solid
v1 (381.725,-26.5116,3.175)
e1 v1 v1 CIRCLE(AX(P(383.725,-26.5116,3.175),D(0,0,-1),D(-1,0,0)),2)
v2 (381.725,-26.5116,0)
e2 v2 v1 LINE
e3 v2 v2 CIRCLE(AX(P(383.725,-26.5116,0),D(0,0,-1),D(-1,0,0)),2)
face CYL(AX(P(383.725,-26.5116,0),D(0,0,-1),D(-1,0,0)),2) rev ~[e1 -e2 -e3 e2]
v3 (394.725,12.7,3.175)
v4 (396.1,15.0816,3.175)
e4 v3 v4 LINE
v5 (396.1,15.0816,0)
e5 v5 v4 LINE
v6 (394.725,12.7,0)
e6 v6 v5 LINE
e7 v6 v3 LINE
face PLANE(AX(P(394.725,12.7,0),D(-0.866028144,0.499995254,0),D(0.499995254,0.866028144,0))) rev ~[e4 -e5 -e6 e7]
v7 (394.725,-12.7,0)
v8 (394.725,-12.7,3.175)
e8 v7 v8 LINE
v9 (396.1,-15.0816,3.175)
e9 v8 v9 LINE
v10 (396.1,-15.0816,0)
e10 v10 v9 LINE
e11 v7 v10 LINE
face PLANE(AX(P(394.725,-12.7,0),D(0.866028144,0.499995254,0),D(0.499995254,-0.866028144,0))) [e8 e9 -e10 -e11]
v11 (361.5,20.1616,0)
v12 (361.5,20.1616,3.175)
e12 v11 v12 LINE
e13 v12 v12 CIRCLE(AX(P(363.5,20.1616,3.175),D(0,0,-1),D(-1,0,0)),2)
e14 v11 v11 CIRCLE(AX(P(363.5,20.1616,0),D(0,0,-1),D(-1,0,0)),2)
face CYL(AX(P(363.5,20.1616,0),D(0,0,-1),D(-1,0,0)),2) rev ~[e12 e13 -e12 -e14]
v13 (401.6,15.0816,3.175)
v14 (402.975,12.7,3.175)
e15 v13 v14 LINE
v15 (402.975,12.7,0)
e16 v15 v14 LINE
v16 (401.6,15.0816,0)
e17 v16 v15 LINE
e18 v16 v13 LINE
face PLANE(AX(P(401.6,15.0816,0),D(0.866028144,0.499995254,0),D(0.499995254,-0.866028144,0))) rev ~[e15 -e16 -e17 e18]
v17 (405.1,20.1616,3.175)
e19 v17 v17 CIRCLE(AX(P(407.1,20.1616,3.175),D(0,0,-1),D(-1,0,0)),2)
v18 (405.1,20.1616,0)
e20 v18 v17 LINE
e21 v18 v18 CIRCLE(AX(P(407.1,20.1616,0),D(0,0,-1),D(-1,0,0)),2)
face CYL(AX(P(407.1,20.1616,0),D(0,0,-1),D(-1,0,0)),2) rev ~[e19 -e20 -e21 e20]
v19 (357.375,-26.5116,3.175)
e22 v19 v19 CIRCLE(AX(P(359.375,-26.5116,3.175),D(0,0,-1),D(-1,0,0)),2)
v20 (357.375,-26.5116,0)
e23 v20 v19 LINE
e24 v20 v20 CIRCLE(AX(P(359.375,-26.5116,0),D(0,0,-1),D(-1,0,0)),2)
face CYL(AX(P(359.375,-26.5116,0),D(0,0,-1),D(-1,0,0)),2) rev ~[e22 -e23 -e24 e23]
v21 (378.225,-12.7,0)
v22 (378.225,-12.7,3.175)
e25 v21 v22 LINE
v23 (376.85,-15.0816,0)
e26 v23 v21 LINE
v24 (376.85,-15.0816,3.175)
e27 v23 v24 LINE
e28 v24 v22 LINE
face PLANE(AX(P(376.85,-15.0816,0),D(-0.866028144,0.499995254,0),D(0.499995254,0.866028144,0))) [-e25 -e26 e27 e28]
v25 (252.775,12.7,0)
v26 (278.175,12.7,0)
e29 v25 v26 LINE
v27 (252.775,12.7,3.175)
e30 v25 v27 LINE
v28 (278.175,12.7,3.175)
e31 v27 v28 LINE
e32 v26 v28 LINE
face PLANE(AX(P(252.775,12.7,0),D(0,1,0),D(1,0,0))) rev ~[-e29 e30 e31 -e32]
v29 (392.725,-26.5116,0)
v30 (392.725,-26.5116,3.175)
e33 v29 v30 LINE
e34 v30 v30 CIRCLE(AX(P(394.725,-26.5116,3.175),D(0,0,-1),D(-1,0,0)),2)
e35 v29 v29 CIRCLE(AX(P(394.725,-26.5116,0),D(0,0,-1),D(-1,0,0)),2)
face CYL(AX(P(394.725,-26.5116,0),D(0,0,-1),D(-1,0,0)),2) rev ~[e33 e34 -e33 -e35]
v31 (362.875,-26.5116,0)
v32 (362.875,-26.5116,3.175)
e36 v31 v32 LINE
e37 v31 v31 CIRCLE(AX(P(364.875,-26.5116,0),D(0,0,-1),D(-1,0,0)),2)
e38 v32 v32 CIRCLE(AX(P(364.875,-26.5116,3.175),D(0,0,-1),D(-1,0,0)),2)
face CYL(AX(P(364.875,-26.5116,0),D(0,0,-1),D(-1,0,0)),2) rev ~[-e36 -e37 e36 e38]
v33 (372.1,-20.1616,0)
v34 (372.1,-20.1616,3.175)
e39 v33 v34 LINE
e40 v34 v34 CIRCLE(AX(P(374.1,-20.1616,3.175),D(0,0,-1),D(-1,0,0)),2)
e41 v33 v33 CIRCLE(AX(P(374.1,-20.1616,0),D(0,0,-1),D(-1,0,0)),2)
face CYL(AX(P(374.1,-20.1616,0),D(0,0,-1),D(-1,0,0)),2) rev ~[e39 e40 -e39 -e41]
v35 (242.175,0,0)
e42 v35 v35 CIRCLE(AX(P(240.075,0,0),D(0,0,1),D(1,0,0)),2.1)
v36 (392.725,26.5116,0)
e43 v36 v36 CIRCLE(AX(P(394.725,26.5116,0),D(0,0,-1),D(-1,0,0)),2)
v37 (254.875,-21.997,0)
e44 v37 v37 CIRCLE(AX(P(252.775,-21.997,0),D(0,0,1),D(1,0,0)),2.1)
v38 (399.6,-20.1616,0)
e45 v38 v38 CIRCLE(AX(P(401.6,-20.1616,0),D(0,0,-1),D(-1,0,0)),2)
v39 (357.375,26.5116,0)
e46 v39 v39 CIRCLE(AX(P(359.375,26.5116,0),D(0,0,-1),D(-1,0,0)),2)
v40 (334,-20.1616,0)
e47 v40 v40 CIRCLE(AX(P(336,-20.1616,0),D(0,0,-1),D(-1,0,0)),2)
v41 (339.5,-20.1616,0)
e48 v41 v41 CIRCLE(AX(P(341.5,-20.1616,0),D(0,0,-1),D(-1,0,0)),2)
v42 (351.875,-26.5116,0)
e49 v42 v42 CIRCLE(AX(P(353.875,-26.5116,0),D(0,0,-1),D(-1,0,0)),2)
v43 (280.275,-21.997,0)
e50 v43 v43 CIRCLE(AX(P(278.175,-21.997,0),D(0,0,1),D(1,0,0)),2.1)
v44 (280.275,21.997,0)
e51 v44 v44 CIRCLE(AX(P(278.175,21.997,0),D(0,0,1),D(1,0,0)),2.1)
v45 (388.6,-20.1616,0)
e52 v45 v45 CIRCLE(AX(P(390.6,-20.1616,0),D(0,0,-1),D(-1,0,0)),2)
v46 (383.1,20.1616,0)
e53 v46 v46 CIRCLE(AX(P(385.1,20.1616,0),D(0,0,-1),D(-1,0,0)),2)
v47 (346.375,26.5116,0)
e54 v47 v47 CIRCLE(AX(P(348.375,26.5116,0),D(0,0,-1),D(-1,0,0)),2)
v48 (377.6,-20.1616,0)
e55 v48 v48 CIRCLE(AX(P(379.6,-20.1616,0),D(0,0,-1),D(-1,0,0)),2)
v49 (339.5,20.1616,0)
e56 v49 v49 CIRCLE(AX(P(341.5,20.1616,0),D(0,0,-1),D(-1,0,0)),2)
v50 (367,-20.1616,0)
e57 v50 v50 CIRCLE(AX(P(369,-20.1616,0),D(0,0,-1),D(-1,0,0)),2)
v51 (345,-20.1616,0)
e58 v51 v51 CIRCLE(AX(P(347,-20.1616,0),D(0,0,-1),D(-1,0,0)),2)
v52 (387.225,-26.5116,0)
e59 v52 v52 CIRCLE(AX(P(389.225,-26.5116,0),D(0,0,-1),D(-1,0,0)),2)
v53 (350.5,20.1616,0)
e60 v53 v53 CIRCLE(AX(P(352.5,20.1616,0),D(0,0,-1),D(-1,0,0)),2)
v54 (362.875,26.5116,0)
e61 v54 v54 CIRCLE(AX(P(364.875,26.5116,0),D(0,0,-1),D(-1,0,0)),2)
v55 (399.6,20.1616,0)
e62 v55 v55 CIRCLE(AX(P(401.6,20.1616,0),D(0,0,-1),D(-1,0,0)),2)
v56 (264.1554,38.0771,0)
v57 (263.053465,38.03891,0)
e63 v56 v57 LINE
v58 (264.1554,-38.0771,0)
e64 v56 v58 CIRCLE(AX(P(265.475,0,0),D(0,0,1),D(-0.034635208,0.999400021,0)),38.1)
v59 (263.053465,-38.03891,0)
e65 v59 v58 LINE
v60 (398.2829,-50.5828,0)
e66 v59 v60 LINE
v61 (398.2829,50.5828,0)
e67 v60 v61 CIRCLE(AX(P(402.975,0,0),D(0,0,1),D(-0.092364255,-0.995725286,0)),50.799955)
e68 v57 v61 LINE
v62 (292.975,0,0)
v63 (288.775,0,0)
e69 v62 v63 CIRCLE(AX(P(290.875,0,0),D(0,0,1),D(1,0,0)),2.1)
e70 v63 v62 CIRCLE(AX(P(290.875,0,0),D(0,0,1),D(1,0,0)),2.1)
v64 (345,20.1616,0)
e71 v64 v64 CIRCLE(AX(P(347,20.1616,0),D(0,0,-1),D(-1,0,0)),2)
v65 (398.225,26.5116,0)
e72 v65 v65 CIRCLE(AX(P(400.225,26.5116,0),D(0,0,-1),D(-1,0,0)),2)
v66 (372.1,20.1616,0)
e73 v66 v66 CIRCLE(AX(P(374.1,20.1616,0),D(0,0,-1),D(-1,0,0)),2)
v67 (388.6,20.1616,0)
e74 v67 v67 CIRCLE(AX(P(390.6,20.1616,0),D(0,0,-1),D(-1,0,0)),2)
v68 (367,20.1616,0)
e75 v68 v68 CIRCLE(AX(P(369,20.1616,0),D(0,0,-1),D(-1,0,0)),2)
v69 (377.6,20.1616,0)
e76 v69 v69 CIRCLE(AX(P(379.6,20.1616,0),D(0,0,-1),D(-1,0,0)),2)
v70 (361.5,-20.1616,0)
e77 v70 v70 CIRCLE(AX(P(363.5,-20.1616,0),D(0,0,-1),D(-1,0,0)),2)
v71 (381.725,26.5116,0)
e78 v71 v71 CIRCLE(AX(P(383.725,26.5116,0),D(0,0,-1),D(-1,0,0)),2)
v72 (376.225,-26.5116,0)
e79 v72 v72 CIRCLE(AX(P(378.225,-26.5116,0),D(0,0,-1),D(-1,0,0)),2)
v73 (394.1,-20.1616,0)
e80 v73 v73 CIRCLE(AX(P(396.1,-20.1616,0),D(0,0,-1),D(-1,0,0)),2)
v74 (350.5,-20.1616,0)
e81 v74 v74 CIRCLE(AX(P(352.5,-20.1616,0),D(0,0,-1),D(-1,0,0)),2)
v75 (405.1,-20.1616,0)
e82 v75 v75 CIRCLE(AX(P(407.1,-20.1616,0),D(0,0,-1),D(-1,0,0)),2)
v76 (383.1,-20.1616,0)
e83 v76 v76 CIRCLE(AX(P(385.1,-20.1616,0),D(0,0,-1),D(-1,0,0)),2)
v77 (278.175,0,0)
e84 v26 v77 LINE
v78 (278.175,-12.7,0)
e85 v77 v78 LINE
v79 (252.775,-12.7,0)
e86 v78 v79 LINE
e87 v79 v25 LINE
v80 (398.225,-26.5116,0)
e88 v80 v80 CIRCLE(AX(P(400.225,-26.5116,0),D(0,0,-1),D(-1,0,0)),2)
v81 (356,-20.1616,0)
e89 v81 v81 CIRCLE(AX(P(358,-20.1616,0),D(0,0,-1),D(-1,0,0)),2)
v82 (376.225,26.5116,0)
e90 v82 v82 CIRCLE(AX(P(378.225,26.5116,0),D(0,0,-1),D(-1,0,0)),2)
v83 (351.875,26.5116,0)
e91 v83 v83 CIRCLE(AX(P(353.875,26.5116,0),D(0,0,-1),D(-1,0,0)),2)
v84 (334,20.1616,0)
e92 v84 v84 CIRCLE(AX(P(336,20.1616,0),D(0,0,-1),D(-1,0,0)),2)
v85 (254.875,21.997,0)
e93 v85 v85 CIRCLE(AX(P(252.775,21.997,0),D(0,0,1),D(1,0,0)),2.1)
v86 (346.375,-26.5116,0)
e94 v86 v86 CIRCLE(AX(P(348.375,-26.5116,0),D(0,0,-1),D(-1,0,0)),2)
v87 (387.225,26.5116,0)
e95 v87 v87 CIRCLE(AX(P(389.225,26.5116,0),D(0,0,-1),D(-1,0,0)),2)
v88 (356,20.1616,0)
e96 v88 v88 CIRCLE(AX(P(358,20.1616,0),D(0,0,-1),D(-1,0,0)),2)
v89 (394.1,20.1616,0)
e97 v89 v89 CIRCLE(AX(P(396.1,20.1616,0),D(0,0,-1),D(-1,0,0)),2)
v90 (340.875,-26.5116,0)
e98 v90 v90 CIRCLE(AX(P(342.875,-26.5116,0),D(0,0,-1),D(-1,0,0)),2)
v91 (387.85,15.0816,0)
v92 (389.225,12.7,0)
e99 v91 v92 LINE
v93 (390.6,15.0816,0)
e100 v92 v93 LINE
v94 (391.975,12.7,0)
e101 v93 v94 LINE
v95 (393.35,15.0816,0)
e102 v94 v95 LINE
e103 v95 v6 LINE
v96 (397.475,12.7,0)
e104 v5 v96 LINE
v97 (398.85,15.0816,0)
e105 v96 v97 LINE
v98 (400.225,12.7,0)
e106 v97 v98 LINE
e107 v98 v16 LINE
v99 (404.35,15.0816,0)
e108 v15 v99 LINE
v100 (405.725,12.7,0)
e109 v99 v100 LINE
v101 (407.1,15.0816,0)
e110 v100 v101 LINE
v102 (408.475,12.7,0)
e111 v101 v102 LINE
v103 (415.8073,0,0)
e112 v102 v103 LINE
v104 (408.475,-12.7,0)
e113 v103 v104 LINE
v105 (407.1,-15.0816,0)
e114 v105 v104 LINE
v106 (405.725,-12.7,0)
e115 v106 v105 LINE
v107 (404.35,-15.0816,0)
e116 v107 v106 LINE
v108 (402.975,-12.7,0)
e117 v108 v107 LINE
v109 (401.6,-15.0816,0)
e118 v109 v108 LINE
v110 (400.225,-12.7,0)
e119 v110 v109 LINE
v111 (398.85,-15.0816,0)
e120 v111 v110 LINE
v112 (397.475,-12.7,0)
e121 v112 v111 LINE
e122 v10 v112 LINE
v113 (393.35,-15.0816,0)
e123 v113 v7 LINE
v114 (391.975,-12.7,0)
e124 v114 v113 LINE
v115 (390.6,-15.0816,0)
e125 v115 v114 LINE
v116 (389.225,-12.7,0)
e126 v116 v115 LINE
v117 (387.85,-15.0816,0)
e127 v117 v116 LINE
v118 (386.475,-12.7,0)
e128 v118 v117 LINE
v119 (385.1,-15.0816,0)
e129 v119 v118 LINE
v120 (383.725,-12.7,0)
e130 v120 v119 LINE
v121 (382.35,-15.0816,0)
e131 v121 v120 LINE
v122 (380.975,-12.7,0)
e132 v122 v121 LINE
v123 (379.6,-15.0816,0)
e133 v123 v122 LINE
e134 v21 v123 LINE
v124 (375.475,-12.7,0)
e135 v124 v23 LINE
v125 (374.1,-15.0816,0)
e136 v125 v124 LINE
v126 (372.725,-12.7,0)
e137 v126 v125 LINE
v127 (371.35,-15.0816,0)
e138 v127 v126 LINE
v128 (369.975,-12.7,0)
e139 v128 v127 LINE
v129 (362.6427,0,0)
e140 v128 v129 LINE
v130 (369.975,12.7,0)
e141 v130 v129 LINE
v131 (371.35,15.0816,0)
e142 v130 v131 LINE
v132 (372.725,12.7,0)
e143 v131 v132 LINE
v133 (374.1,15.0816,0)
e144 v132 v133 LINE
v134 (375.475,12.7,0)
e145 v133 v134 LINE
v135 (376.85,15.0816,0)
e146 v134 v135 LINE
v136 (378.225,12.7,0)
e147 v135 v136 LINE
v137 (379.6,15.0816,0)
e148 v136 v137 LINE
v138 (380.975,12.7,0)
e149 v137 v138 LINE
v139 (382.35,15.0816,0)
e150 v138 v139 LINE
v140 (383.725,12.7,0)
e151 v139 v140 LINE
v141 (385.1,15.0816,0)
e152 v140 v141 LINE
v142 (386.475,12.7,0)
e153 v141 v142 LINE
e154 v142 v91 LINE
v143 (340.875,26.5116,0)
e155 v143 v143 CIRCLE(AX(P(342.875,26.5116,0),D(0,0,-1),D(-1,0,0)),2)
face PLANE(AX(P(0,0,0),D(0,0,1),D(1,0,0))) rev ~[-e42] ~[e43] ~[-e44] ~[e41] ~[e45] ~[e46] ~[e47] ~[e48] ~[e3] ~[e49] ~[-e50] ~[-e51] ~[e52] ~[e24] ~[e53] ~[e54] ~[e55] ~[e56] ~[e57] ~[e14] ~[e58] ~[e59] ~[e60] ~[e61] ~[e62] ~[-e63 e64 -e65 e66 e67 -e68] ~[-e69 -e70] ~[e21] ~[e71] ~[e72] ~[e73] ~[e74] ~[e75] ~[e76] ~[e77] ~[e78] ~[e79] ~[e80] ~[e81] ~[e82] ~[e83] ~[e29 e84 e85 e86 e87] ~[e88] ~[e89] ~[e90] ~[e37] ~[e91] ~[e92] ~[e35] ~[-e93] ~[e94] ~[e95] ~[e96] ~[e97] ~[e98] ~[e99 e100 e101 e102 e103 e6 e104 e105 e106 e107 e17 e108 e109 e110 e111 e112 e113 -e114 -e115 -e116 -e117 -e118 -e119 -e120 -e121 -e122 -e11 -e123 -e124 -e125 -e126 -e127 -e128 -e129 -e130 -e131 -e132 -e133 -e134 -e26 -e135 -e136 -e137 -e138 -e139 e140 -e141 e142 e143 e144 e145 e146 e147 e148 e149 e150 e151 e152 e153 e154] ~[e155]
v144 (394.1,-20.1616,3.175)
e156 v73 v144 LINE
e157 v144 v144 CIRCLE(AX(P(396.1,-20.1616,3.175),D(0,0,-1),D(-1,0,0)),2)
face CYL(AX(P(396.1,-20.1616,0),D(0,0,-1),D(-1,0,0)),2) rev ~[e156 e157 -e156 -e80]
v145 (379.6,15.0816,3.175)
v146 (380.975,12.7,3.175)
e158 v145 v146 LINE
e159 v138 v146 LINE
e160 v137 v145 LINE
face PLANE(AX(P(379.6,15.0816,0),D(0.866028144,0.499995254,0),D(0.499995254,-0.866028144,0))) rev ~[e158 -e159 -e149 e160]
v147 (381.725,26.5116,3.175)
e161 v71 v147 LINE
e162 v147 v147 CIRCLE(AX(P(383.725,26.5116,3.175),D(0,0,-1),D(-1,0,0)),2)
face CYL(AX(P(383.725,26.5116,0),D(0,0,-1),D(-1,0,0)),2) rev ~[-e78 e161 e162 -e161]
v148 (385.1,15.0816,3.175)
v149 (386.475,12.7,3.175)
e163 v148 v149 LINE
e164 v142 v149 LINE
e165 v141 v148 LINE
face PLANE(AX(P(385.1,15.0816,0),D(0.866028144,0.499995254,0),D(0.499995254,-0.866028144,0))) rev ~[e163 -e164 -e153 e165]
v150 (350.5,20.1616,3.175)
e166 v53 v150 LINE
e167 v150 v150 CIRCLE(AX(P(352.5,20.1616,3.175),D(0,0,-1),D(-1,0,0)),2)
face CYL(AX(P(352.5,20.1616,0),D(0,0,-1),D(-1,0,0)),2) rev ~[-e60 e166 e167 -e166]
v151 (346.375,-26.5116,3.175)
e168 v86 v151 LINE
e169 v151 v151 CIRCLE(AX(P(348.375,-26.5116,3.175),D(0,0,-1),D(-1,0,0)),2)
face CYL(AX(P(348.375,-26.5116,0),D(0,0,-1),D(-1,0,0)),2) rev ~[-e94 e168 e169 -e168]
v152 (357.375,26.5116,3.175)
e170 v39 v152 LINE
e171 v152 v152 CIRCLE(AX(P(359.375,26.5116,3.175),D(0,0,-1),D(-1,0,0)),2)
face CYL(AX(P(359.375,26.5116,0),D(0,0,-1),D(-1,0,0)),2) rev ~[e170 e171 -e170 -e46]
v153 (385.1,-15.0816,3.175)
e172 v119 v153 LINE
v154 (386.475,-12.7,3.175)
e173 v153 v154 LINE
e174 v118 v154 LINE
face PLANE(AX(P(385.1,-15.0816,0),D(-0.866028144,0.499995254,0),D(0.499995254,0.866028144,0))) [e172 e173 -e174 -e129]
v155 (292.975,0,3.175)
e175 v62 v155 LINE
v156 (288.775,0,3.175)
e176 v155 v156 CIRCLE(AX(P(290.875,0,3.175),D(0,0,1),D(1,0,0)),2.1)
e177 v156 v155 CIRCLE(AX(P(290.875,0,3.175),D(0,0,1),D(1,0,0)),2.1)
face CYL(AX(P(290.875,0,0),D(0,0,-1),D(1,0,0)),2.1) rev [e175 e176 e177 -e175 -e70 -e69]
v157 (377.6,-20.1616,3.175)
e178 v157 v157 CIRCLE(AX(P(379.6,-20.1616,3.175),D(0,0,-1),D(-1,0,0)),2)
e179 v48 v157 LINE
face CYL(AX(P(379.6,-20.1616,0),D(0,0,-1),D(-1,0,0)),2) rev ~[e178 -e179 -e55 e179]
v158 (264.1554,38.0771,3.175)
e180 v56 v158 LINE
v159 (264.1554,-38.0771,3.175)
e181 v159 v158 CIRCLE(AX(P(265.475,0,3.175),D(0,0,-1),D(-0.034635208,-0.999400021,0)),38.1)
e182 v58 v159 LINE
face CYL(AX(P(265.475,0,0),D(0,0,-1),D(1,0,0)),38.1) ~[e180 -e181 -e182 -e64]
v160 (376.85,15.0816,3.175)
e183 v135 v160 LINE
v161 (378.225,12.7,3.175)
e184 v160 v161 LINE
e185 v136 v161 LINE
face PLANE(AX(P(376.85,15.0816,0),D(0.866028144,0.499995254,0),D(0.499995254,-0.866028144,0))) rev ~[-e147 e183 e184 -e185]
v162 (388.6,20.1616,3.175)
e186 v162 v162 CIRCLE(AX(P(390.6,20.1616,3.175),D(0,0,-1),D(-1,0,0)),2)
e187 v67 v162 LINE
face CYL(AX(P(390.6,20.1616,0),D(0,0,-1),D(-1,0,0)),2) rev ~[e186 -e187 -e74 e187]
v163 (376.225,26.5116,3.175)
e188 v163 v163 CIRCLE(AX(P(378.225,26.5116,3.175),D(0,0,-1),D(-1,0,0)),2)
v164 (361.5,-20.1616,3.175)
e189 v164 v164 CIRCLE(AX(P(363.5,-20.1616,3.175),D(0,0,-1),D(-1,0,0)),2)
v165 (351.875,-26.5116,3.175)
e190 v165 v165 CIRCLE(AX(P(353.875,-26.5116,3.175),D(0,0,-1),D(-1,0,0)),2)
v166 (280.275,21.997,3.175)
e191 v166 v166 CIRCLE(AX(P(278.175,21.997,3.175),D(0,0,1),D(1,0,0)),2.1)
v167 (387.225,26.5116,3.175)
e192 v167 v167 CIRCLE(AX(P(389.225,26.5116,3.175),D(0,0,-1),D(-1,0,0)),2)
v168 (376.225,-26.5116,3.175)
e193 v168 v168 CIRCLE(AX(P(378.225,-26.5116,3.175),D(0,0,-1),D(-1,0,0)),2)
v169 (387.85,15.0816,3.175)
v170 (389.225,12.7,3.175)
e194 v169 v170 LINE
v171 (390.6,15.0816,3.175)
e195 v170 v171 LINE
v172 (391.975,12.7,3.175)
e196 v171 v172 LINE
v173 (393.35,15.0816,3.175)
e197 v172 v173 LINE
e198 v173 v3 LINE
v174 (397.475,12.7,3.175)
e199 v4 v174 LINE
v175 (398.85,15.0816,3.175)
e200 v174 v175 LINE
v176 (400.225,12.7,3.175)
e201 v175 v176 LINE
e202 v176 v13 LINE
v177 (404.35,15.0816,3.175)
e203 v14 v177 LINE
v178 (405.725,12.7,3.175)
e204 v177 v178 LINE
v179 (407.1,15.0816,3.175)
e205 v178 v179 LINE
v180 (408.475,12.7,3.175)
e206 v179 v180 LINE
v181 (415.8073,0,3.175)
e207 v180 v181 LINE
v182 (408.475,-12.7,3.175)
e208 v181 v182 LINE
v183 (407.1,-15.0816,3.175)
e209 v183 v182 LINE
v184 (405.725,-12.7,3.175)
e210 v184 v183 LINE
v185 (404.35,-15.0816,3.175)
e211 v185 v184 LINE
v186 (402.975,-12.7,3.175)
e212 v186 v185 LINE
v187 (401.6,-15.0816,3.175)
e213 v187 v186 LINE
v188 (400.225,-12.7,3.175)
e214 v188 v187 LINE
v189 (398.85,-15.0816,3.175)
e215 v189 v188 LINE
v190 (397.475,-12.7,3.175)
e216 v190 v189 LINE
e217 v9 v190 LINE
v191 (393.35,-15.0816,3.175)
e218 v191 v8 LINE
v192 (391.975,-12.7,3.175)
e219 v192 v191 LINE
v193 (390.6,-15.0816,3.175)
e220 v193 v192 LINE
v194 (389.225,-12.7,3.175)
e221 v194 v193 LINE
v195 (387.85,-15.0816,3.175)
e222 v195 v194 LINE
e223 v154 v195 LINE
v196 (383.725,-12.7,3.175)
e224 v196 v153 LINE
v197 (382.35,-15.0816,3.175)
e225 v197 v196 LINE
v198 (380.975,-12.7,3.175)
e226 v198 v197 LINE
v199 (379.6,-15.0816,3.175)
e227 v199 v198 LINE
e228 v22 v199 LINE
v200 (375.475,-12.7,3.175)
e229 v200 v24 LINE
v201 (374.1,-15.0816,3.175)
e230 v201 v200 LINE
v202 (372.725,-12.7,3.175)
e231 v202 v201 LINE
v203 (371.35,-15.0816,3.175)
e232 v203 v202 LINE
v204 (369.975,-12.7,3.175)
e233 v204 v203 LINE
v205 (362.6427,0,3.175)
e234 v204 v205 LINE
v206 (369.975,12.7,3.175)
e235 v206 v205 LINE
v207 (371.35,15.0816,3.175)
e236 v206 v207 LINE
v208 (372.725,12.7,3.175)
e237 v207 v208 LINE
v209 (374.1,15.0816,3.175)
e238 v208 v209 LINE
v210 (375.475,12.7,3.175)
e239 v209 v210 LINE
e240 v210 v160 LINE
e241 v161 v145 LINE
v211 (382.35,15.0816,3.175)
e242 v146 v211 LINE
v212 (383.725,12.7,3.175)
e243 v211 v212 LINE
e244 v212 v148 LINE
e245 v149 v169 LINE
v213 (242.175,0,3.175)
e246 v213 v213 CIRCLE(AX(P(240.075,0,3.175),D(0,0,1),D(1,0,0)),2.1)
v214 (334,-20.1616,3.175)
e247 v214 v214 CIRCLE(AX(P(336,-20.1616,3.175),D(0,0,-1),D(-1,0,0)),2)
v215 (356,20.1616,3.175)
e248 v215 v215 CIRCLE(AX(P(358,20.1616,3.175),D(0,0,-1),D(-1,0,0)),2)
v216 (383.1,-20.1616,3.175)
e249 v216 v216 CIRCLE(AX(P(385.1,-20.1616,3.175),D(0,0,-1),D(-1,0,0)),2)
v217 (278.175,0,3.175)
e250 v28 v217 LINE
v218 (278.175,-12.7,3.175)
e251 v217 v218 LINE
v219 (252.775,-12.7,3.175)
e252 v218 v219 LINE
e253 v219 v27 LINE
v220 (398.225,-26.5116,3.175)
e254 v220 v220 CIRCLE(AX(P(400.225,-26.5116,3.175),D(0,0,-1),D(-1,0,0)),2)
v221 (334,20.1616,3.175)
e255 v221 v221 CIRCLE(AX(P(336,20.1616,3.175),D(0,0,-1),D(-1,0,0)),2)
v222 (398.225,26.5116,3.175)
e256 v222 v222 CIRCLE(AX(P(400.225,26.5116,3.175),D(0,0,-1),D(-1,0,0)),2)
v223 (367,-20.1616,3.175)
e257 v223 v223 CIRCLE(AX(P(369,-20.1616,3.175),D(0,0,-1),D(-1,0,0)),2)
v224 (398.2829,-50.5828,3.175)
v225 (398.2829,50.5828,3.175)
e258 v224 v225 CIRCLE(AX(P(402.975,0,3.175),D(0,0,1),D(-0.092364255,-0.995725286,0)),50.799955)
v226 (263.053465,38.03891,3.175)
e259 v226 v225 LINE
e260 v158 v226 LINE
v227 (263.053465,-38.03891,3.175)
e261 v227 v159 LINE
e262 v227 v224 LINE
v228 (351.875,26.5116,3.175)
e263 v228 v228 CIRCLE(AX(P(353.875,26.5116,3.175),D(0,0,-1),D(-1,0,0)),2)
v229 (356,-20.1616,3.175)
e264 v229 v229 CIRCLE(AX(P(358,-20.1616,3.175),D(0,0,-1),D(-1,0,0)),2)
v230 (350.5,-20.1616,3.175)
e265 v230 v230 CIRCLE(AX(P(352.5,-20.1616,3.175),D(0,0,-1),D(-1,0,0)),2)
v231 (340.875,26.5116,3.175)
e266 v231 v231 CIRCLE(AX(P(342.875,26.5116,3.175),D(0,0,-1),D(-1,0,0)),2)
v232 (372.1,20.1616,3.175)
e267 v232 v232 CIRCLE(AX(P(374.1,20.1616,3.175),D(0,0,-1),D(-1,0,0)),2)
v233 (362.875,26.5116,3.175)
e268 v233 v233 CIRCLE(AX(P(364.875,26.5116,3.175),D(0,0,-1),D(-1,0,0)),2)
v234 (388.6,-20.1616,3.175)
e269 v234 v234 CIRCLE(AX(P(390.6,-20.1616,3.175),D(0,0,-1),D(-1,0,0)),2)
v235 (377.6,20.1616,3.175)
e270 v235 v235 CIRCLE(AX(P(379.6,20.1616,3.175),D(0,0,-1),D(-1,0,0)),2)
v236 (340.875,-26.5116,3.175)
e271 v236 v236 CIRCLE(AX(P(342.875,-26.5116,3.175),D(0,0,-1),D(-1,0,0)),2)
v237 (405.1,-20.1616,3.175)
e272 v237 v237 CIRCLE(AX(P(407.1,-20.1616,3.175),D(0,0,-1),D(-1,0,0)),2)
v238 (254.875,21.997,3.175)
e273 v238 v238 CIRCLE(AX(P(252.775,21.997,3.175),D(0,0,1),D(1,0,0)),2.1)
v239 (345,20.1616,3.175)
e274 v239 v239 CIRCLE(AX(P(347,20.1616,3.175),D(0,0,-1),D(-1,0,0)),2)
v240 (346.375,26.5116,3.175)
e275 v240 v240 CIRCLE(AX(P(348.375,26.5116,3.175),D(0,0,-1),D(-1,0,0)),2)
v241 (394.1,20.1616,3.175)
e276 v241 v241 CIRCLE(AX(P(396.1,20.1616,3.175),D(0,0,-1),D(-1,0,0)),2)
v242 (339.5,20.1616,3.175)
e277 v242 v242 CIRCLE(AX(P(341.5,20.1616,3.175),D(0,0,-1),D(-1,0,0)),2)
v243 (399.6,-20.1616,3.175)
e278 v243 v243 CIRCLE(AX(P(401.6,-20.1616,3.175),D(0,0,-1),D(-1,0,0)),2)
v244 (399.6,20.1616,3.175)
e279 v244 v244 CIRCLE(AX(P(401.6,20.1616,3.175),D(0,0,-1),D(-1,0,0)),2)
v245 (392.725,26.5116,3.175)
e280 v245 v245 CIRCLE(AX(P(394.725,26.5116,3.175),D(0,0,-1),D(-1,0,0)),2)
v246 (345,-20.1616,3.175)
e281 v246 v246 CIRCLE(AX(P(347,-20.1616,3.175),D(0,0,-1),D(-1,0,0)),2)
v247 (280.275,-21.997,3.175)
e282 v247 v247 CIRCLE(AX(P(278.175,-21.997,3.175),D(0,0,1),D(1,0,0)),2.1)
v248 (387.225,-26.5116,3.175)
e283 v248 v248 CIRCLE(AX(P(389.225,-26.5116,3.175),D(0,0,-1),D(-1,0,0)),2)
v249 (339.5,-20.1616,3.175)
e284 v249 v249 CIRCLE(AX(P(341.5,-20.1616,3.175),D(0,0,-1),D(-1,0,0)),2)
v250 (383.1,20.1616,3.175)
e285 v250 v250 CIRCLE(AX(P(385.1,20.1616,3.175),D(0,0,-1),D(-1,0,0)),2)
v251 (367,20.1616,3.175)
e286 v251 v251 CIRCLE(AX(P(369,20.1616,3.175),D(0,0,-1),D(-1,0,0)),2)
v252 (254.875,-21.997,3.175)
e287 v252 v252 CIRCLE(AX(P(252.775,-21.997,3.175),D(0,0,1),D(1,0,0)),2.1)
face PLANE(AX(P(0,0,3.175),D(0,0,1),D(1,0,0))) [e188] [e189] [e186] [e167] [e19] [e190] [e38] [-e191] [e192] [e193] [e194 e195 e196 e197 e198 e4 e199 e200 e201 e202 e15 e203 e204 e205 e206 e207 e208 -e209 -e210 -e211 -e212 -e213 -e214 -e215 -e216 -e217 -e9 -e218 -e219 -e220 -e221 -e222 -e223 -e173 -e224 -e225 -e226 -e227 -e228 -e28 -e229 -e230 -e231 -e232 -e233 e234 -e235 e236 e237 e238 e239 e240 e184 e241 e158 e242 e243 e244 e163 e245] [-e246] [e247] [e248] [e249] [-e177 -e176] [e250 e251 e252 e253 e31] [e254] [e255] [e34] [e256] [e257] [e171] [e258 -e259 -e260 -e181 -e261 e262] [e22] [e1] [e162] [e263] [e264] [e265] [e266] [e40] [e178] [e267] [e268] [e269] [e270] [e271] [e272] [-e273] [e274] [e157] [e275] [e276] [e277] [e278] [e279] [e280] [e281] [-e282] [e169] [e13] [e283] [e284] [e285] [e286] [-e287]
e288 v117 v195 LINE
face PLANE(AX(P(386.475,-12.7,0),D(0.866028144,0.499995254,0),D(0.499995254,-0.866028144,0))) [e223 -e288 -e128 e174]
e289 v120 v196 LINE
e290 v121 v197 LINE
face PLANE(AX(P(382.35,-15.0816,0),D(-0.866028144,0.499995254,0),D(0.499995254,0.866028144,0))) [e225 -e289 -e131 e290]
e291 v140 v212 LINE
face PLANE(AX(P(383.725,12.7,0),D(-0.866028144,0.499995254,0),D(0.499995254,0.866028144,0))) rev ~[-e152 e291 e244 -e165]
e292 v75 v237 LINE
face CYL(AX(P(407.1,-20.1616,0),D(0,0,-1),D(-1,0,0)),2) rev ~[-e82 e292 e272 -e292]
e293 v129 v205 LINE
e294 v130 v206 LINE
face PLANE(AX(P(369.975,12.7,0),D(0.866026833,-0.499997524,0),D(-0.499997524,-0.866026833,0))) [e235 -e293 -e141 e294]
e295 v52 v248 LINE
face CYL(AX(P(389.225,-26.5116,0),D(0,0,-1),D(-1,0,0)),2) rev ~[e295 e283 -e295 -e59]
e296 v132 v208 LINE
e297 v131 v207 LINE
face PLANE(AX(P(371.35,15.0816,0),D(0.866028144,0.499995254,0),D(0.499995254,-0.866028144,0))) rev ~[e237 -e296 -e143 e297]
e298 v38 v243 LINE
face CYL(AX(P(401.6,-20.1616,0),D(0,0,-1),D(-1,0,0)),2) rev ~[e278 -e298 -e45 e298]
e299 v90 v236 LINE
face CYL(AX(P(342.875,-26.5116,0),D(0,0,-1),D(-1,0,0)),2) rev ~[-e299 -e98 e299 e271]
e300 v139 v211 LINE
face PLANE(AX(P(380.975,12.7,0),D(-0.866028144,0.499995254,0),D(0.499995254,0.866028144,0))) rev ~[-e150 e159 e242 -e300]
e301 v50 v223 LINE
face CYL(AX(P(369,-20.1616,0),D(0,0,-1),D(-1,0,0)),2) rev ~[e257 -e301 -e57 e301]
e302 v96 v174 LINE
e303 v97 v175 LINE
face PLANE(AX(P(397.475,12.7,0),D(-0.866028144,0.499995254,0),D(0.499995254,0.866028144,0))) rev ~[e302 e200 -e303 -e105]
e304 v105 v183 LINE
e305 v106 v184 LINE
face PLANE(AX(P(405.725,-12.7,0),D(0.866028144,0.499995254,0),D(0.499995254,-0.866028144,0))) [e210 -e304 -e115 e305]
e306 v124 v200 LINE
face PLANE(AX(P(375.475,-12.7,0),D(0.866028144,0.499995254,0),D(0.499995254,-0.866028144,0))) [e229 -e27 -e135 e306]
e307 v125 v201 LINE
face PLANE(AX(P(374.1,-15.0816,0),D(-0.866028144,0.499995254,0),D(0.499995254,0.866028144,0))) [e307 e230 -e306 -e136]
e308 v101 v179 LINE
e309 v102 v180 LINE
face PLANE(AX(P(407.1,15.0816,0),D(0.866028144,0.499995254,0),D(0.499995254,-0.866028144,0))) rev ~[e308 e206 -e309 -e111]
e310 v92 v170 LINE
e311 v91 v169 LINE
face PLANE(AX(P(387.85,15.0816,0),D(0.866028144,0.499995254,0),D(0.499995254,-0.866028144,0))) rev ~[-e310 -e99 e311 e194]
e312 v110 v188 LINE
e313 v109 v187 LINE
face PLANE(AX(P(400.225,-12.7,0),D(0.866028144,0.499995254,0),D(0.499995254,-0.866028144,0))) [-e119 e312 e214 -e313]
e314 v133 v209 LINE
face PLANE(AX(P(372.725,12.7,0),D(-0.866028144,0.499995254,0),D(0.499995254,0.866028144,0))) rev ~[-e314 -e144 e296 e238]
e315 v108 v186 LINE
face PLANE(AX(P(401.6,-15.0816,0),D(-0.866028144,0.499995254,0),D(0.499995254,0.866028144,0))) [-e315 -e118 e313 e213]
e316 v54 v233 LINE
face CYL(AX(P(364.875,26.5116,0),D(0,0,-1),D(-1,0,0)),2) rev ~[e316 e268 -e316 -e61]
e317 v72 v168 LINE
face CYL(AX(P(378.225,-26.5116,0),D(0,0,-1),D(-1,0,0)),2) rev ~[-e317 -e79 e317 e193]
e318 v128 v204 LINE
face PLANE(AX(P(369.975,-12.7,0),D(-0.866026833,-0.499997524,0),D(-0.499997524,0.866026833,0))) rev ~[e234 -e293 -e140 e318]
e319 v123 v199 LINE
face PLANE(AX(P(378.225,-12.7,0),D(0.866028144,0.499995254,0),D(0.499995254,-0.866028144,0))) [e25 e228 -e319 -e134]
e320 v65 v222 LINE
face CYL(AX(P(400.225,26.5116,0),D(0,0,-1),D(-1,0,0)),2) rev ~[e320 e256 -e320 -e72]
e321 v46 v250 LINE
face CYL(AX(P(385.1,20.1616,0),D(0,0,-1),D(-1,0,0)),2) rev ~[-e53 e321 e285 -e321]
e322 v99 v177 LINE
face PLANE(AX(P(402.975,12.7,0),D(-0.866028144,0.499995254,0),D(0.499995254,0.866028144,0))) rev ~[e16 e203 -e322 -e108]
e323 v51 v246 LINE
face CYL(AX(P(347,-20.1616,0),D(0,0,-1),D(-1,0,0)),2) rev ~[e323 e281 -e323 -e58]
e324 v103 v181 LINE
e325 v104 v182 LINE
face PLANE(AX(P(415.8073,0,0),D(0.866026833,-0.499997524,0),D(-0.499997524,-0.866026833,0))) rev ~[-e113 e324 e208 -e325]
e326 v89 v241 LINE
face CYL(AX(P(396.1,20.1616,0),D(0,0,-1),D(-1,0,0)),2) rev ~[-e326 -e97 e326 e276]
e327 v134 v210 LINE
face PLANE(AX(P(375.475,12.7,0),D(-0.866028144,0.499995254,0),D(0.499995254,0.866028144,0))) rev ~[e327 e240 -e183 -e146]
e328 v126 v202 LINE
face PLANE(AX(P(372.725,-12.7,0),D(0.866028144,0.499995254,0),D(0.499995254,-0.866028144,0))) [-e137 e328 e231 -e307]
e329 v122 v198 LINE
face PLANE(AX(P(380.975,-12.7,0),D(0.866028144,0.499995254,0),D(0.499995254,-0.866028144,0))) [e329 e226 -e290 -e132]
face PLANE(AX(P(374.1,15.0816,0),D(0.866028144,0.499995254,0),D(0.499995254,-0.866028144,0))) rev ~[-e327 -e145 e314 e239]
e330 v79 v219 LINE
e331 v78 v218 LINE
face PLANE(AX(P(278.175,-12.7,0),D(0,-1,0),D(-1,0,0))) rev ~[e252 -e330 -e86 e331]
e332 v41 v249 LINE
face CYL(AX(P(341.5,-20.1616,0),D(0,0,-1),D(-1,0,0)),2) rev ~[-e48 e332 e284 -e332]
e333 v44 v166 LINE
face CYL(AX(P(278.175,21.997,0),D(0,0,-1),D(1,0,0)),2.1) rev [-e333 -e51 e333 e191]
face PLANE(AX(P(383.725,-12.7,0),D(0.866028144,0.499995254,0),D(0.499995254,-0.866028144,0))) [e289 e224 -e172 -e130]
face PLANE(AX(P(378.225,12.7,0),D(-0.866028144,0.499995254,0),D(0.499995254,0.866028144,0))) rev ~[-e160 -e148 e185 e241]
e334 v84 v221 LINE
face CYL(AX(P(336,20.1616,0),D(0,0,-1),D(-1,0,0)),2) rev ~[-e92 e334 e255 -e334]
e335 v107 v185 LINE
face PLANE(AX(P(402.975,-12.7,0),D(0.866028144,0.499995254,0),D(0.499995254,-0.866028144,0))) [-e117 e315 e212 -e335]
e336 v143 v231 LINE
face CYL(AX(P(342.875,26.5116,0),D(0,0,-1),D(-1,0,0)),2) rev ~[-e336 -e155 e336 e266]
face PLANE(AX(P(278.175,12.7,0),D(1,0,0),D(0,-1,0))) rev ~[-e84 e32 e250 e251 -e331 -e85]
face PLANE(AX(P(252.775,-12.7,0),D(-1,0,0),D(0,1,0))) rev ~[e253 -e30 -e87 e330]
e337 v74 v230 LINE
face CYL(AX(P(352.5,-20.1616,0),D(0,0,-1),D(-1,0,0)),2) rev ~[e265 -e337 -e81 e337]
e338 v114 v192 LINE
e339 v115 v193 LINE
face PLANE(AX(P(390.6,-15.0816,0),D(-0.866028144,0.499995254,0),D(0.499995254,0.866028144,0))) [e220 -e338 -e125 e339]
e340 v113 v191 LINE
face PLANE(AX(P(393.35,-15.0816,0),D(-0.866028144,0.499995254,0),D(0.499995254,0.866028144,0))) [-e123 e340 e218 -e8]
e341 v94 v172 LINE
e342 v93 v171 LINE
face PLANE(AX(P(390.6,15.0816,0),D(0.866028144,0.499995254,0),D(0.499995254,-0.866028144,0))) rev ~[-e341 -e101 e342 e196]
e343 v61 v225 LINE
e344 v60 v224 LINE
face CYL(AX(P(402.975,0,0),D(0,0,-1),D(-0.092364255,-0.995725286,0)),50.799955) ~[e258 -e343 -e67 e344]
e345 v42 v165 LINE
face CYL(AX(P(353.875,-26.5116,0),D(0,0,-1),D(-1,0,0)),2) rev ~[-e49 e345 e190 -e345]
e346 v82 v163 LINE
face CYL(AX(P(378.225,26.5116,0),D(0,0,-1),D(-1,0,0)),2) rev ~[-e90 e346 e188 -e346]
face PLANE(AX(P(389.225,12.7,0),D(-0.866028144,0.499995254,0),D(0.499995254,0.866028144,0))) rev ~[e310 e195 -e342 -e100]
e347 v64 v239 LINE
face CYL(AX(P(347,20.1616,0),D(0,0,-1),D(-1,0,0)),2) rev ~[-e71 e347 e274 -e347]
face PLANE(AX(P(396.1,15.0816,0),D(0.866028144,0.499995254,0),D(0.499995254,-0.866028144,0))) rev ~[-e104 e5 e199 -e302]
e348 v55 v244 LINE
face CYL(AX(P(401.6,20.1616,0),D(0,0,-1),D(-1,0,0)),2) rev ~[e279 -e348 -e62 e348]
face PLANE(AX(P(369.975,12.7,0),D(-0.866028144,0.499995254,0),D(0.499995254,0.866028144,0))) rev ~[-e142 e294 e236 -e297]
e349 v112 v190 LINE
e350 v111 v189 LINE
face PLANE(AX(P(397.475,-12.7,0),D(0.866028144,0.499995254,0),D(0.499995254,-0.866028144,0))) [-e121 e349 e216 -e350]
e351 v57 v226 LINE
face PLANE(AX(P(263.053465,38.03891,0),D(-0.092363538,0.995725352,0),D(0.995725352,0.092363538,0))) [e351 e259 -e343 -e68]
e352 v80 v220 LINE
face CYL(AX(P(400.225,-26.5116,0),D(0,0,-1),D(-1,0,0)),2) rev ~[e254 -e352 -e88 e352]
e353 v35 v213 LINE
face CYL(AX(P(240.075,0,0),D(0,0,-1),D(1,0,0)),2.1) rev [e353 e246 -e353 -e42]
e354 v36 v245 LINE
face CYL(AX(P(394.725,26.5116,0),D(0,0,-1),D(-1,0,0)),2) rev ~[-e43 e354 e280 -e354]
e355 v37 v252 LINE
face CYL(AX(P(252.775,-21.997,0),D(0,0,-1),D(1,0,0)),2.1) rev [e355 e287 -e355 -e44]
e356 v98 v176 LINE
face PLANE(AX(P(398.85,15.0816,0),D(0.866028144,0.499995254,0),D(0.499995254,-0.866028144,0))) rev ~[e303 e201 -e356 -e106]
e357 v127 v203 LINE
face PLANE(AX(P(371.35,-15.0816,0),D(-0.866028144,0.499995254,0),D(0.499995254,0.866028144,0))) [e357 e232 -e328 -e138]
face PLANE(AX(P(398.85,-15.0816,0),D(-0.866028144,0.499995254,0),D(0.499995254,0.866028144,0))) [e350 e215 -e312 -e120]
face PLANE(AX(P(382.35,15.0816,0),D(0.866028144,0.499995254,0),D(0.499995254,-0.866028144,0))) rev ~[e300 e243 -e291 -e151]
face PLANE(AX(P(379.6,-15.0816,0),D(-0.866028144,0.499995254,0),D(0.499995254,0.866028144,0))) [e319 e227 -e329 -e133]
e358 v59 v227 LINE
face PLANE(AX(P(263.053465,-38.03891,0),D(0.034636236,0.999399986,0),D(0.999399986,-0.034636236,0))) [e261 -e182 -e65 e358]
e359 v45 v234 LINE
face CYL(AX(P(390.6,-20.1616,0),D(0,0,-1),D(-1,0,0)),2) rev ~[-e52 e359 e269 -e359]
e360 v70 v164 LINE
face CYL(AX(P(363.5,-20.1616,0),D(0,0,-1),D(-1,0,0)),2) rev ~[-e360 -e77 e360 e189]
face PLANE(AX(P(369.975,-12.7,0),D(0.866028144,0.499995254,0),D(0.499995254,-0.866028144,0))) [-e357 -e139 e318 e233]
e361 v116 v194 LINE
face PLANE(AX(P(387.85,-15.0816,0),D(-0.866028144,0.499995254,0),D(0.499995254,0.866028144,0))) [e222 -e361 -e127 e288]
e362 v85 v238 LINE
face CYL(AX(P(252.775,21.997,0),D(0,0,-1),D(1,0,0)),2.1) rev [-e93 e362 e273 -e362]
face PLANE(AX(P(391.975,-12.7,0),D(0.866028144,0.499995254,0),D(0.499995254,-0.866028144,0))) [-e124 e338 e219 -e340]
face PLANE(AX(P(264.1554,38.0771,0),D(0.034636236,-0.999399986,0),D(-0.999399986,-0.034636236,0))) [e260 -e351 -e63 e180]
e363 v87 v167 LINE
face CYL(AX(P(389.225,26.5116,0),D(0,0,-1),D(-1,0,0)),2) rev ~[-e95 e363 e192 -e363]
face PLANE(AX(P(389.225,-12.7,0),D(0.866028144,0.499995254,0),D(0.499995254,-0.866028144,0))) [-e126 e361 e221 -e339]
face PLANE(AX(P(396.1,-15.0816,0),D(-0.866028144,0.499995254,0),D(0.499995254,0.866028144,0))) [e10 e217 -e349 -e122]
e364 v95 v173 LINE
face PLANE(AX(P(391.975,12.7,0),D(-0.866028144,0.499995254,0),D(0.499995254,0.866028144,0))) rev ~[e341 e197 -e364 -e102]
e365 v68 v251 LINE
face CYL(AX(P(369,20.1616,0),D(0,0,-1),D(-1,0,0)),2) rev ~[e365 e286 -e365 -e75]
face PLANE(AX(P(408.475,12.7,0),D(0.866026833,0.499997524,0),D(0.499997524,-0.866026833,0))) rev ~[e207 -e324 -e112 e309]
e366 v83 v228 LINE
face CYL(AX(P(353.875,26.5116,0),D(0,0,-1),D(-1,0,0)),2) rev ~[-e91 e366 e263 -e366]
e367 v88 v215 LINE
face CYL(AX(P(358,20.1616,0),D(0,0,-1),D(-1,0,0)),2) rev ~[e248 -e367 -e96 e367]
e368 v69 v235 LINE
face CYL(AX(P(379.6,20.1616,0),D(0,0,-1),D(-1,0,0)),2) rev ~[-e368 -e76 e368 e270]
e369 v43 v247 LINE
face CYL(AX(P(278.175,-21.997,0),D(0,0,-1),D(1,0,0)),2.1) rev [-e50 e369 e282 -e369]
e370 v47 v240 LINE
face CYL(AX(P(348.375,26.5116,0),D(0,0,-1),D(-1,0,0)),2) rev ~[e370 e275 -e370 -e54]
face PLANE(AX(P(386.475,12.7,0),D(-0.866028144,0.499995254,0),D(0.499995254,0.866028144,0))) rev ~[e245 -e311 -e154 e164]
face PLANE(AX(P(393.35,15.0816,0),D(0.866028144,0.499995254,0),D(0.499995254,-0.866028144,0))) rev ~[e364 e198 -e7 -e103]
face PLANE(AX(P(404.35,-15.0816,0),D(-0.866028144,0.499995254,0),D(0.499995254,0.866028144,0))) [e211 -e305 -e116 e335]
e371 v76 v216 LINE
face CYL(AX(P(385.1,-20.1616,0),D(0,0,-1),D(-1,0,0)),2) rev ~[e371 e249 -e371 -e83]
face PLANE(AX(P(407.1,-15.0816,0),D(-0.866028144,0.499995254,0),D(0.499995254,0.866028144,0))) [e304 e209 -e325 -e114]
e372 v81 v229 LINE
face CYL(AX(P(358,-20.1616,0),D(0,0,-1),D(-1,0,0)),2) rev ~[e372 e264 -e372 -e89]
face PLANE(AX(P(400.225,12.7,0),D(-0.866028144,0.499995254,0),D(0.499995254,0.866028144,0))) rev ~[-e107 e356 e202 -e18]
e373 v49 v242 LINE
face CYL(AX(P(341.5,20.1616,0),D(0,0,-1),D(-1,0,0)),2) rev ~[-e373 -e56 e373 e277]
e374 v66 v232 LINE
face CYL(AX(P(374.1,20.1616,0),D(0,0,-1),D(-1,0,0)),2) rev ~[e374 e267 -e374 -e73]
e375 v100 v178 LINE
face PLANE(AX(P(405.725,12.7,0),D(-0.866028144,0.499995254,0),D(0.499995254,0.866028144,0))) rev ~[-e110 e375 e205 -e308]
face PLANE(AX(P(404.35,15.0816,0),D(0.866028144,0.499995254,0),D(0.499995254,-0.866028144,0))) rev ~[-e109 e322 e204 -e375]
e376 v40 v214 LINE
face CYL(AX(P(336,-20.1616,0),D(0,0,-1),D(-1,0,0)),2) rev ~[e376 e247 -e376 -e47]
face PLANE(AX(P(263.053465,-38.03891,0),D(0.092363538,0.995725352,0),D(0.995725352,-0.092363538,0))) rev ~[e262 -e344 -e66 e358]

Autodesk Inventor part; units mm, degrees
ref_plane "YZ Plane" through (0, 0, 0) normal (1, 0, 0) x (0, 1, 0)
ref_plane "XZ Plane" through (0, 0, 0) normal (0, 1, 0) x (-1, 0, 0)
ref_plane "XY Plane" through (0, 0, 0) normal (0, 0, 1) x (1, 0, 0)
sketch "Sketch1" plane through (0, 0, 0) normal (0, 0, 1) x (1, 0, 0)
  line L0 (-285.1848, -19.0386) -> (264.1554, -38.0771) projected
  arc A0 (264.1554, -38.0771) -> (264.1554, 38.0771) centre (265.475, 0) ccw projected
  line L1 (264.1554, 38.0771) -> (-285.1848, 19.0386) projected
  arc A1 (-285.1848, 19.0386) -> (-285.1848, -19.0386) centre (-284.525, 0) ccw projected
  circle A2 centre (-284.525, -9.525) radius 2 projected
  circle A3 centre (-294.05, 0) radius 2 projected
  circle A4 centre (-284.525, 9.525) radius 2 projected
  circle A5 centre (290.875, 0) radius 2.1 projected
  circle A6 centre (278.175, -21.997) radius 2.1 projected
  circle A7 centre (252.775, -21.997) radius 2.1 projected
  circle A8 centre (278.175, 21.997) radius 2.1 projected
  circle A9 centre (252.775, 21.997) radius 2.1 projected
  line L2 (252.775, -12.7) -> (252.775, 12.7) projected
  line L3 (252.775, 12.7) -> (278.175, 12.7) projected
  line L4 (278.175, 12.7) -> (278.175, -12.7) projected
  line L5 (278.175, -12.7) -> (252.775, -12.7) projected
  circle A10 centre (240.075, 0) radius 2.1 projected
  circle A11 centre (-275, 0) radius 2 projected
  circle A12 centre (265.475, 0) radius 38.1
  line L6 (265.475, 0) -> (402.975, 0)
  arc A13 (398.2829, -50.5828) -> (398.2829, 50.5828) centre (402.975, 0) ccw
  line L7 (261.9559, 37.9371) -> (398.2829, 50.5828)
  line L8 (265.475, 0) -> (375.475, 0)
  line L9 (402.975, 12.7) -> (402.975, -12.7)
  line L10 (404.35, 12.7) -> (401.6, 12.7)
  line L11 (402.975, 12.7) -> (404.35, 15.0816)
  line L12 (402.975, 12.7) -> (405.725, 12.7) construction
  line L13 (404.35, 15.0816) -> (405.725, 12.7)
  line L14 (405.725, 12.7) -> (407.1, 15.0816)
  line L15 (405.725, 12.7) -> (408.475, 12.7) construction
  line L16 (407.1, 15.0816) -> (408.475, 12.7)
  line L17 (402.975, -12.7) -> (404.35, -15.0816)
  line L18 (402.975, -12.7) -> (405.725, -12.7) construction
  line L19 (404.35, -15.0816) -> (405.725, -12.7)
  line L20 (405.725, -12.7) -> (407.1, -15.0816)
  line L21 (405.725, -12.7) -> (408.475, -12.7) construction
  line L22 (407.1, -15.0816) -> (408.475, -12.7)
  line L23 (397.475, 12.7) -> (398.85, 15.0816)
  line L24 (398.85, 15.0816) -> (400.225, 12.7)
  line L25 (397.475, 12.7) -> (400.225, 12.7) construction
  line L26 (400.225, 12.7) -> (401.6, 15.0816)
  line L27 (401.6, 15.0816) -> (402.975, 12.7)
  line L28 (400.225, 12.7) -> (402.975, 12.7) construction
  line L29 (397.475, -12.7) -> (398.85, -15.0816)
  line L30 (397.475, -12.7) -> (400.225, -12.7) construction
  line L31 (400.225, -12.7) -> (401.6, -15.0816)
  line L32 (400.225, -12.7) -> (402.975, -12.7) construction
  line L33 (401.6, -15.0816) -> (402.975, -12.7)
  line L34 (398.85, -15.0816) -> (400.225, -12.7)
  line L35 (391.975, 12.7) -> (393.35, 15.0816)
  line L36 (393.35, 15.0816) -> (394.725, 12.7)
  line L37 (391.975, 12.7) -> (394.725, 12.7) construction
  line L38 (394.725, 12.7) -> (396.1, 15.0816)
  line L39 (396.1, 15.0816) -> (397.475, 12.7)
  line L40 (394.725, 12.7) -> (397.475, 12.7) construction
  line L41 (391.975, -12.7) -> (393.35, -15.0816)
  line L42 (391.975, -12.7) -> (394.725, -12.7) construction
  line L43 (394.725, -12.7) -> (396.1, -15.0816)
  line L44 (394.725, -12.7) -> (397.475, -12.7) construction
  line L45 (396.1, -15.0816) -> (397.475, -12.7)
  line L46 (393.35, -15.0816) -> (394.725, -12.7)
  line L47 (386.475, 12.7) -> (387.85, 15.0816)
  line L48 (387.85, 15.0816) -> (389.225, 12.7)
  line L49 (386.475, 12.7) -> (389.225, 12.7) construction
  line L50 (389.225, 12.7) -> (390.6, 15.0816)
  line L51 (390.6, 15.0816) -> (391.975, 12.7)
  line L52 (389.225, 12.7) -> (391.975, 12.7) construction
  line L53 (386.475, -12.7) -> (387.85, -15.0816)
  line L54 (386.475, -12.7) -> (389.225, -12.7) construction
  line L55 (389.225, -12.7) -> (390.6, -15.0816)
  line L56 (389.225, -12.7) -> (391.975, -12.7) construction
  line L57 (390.6, -15.0816) -> (391.975, -12.7)
  line L58 (387.85, -15.0816) -> (389.225, -12.7)
  line L59 (380.975, 12.7) -> (382.35, 15.0816)
  line L60 (382.35, 15.0816) -> (383.725, 12.7)
  line L61 (380.975, 12.7) -> (383.725, 12.7) construction
  line L62 (383.725, 12.7) -> (385.1, 15.0816)
  line L63 (385.1, 15.0816) -> (386.475, 12.7)
  line L64 (383.725, 12.7) -> (386.475, 12.7) construction
  line L65 (380.975, -12.7) -> (382.35, -15.0816)
  line L66 (380.975, -12.7) -> (383.725, -12.7) construction
  line L67 (383.725, -12.7) -> (385.1, -15.0816)
  line L68 (383.725, -12.7) -> (386.475, -12.7) construction
  line L69 (385.1, -15.0816) -> (386.475, -12.7)
  line L70 (382.35, -15.0816) -> (383.725, -12.7)
  line L71 (375.475, 12.7) -> (376.85, 15.0816)
  line L72 (376.85, 15.0816) -> (378.225, 12.7)
  line L73 (375.475, 12.7) -> (378.225, 12.7) construction
  line L74 (378.225, 12.7) -> (379.6, 15.0816)
  line L75 (379.6, 15.0816) -> (380.975, 12.7)
  line L76 (378.225, 12.7) -> (380.975, 12.7) construction
  line L77 (375.475, -12.7) -> (376.85, -15.0816)
  line L78 (375.475, -12.7) -> (378.225, -12.7) construction
  line L79 (378.225, -12.7) -> (379.6, -15.0816)
  line L80 (378.225, -12.7) -> (380.975, -12.7) construction
  line L81 (379.6, -15.0816) -> (380.975, -12.7)
  line L82 (376.85, -15.0816) -> (378.225, -12.7)
  line L83 (369.975, 12.7) -> (371.35, 15.0816)
  line L84 (371.35, 15.0816) -> (372.725, 12.7)
  line L85 (369.975, 12.7) -> (372.725, 12.7) construction
  line L86 (372.725, 12.7) -> (374.1, 15.0816)
  line L87 (374.1, 15.0816) -> (375.475, 12.7)
  line L88 (372.725, 12.7) -> (375.475, 12.7) construction
  line L89 (369.975, -12.7) -> (371.35, -15.0816)
  line L90 (369.975, -12.7) -> (372.725, -12.7) construction
  line L91 (372.725, -12.7) -> (374.1, -15.0816)
  line L92 (372.725, -12.7) -> (375.475, -12.7) construction
  line L93 (374.1, -15.0816) -> (375.475, -12.7)
  line L94 (371.35, -15.0816) -> (372.725, -12.7)
  line L95 (408.475, 12.7) -> (415.8073, 0)
  line L96 (415.8073, 0) -> (408.475, -12.7)
  line L97 (369.975, -12.7) -> (362.6427, 0)
  line L98 (369.975, 12.7) -> (362.6427, 0)
  line L99 (261.9559, -37.9371) -> (398.2829, -50.5828)
  line L100 (-195.625, 1.5875) -> (-195.625, -1.5875) projected
  line L101 (-195.625, -1.5875) -> (-221.025, -1.5875) projected
  line L102 (-221.025, -1.5875) -> (-221.025, 1.5875) projected
  line L103 (-221.025, 1.5875) -> (-195.625, 1.5875) projected
  line L104 (-170.225, -1.5875) -> (-170.225, 1.5875) projected
  line L105 (-170.225, 1.5875) -> (-144.825, 1.5875) projected
  line L106 (-144.825, 1.5875) -> (-144.825, -1.5875) projected
  line L107 (-144.825, -1.5875) -> (-170.225, -1.5875) projected
  line L108 (-119.425, -1.5875) -> (-119.425, 1.5875) projected
  line L109 (-119.425, 1.5875) -> (-94.025, 1.5875) projected
  line L110 (-94.025, 1.5875) -> (-94.025, -1.5875) projected
  line L111 (-94.025, -1.5875) -> (-119.425, -1.5875) projected
  line L112 (-68.625, -1.5875) -> (-68.625, 1.5875) projected
  line L113 (-68.625, 1.5875) -> (-43.225, 1.5875) projected
  line L114 (-43.225, 1.5875) -> (-43.225, -1.5875) projected
  line L115 (-43.225, -1.5875) -> (-68.625, -1.5875) projected
  line L116 (-17.825, -1.5875) -> (-17.825, 1.5875) projected
  line L117 (-17.825, 1.5875) -> (7.575, 1.5875) projected
  line L118 (7.575, 1.5875) -> (7.575, -1.5875) projected
  line L119 (7.575, -1.5875) -> (-17.825, -1.5875) projected
  line L120 (32.975, -1.5875) -> (32.975, 1.5875) projected
  line L121 (32.975, 1.5875) -> (58.375, 1.5875) projected
  line L122 (58.375, 1.5875) -> (58.375, -1.5875) projected
  line L123 (58.375, -1.5875) -> (32.975, -1.5875) projected
  line L124 (83.775, -1.5875) -> (83.775, 1.5875) projected
  line L125 (83.775, 1.5875) -> (109.175, 1.5875) projected
  line L126 (109.175, 1.5875) -> (109.175, -1.5875) projected
  line L127 (109.175, -1.5875) -> (83.775, -1.5875) projected
  line L128 (134.575, -1.5875) -> (134.575, 1.5875) projected
  line L129 (134.575, 1.5875) -> (159.975, 1.5875) projected
  line L130 (159.975, 1.5875) -> (159.975, -1.5875) projected
  line L131 (159.975, -1.5875) -> (134.575, -1.5875) projected
  line L132 (185.375, -1.5875) -> (185.375, 1.5875) projected
  line L133 (185.375, 1.5875) -> (210.775, 1.5875) projected
  line L134 (210.775, 1.5875) -> (210.775, -1.5875) projected
  line L135 (210.775, -1.5875) -> (185.375, -1.5875) projected
  point P0 (0, 0)
  point P1 (265.475, 38.1)
  point P2 (264.1554, 38.0771)
  point P3 (263.0536, -38.039)
  point P4 (263.0536, 38.039)
  dimension "d0" = 137.5
  dimension "d1" = 101.6
  dimension "d2" = 110
  dimension "d3" = 25.4
  dimension "d4" = 2.75
  dimension "d5" = 60
  dimension "d6" = 2.75
  dimension "d7" = 60
  dimension "d8" = 2.75
  dimension "d11" = 5.5
extrude "Extrusion1" add sketch "Sketch1" along normal blind 3.175 contours L0 A0 L1 L7 A13 L99 | A12 A0
sketch "Sketch2" plane through (0, 0, 0) normal (0, 0, -1) x (-1, 0, 0)
  line L0 (-375.5993, 0) -> (-368.3167, 0)
  circle A0 centre (-407.1, 20.1616) radius 2
  circle A1 centre (-400.225, 26.5116) radius 2
  circle A2 centre (-401.6, 20.1616) radius 2
  circle A3 centre (-394.725, 26.5116) radius 2
  circle A4 centre (-396.1, 20.1616) radius 2
  circle A5 centre (-390.6, 20.1616) radius 2
  circle A6 centre (-389.225, 26.5116) radius 2
  circle A7 centre (-385.1, 20.1616) radius 2
  circle A8 centre (-383.725, 26.5116) radius 2
  circle A9 centre (-378.225, 26.5116) radius 2
  circle A10 centre (-379.6, 20.1616) radius 2
  circle A11 centre (-374.1, 20.1616) radius 2
  circle A12 centre (-369, 20.1616) radius 2
  circle A13 centre (-364.875, 26.5116) radius 2
  circle A14 centre (-363.5, 20.1616) radius 2
  circle A15 centre (-359.375, 26.5116) radius 2
  circle A16 centre (-358, 20.1616) radius 2
  circle A17 centre (-353.875, 26.5116) radius 2
  circle A18 centre (-352.5, 20.1616) radius 2
  circle A19 centre (-348.375, 26.5116) radius 2
  circle A20 centre (-347, 20.1616) radius 2
  circle A21 centre (-342.875, 26.5116) radius 2
  circle A22 centre (-341.5, 20.1616) radius 2
  circle A23 centre (-336, 20.1616) radius 2
  circle A24 centre (-407.1, -20.1616) radius 2
  circle A25 centre (-400.225, -26.5116) radius 2
  circle A26 centre (-401.6, -20.1616) radius 2
  circle A27 centre (-394.725, -26.5116) radius 2
  circle A28 centre (-396.1, -20.1616) radius 2
  circle A29 centre (-390.6, -20.1616) radius 2
  circle A30 centre (-389.225, -26.5116) radius 2
  circle A31 centre (-385.1, -20.1616) radius 2
  circle A32 centre (-383.725, -26.5116) radius 2
  circle A33 centre (-378.225, -26.5116) radius 2
  circle A34 centre (-379.6, -20.1616) radius 2
  circle A35 centre (-374.1, -20.1616) radius 2
  circle A36 centre (-369, -20.1616) radius 2
  circle A37 centre (-364.875, -26.5116) radius 2
  circle A38 centre (-363.5, -20.1616) radius 2
  circle A39 centre (-359.375, -26.5116) radius 2
  circle A40 centre (-358, -20.1616) radius 2
  circle A41 centre (-353.875, -26.5116) radius 2
  circle A42 centre (-352.5, -20.1616) radius 2
  circle A43 centre (-348.375, -26.5116) radius 2
  circle A44 centre (-347, -20.1616) radius 2
  circle A45 centre (-342.875, -26.5116) radius 2
  circle A46 centre (-341.5, -20.1616) radius 2
  circle A47 centre (-336, -20.1616) radius 2
  point P0 (0, 0)
  point P1 (-402.975, 26.5116)
  point P2 (-398.85, 20.1616)
  point P3 (-360.75, 20.1616)
  point P4 (-407.1, -20.1616)
  point P5 (-402.975, -26.5116)
  point P6 (-398.85, -20.1616)
  point P7 (-369, -20.1616)
  point P8 (-364.875, -26.5116)
  point P9 (-360.75, -20.1616)
  point P10 (-407.1, 15.0816)
  point P11 (-404.35, 15.0816)
  point P12 (-404.35, 20.1616)
  point P13 (-396.1, 20.1616)
  point P14 (-366.25, 20.1616)
  point P15 (-362.125, 26.5116)
  point P16 (-358, 20.1616)
  point P17 (-404.35, -20.1616)
  point P18 (-400.225, -26.5116)
  point P19 (-396.1, -20.1616)
  point P20 (-366.25, -20.1616)
  point P21 (-362.125, -26.5116)
  point P22 (-358, -20.1616)
  point P23 (-397.475, 26.5116)
  point P24 (-393.35, 20.1616)
  point P25 (-355.25, 20.1616)
  point P26 (-401.6, -20.1616)
  point P27 (-397.475, -26.5116)
  point P28 (-393.35, -20.1616)
  point P29 (-363.5, -20.1616)
  point P30 (-359.375, -26.5116)
  point P31 (-355.25, -20.1616)
  point P32 (-398.85, 20.1616)
  point P33 (-390.6, 20.1616)
  point P34 (-360.75, 20.1616)
  point P35 (-356.625, 26.5116)
  point P36 (-352.5, 20.1616)
  point P37 (-398.85, -20.1616)
  point P38 (-394.725, -26.5116)
  point P39 (-390.6, -20.1616)
  point P40 (-360.75, -20.1616)
  point P41 (-356.625, -26.5116)
  point P42 (-352.5, -20.1616)
  point P43 (-391.975, 26.5116)
  point P44 (-387.85, 20.1616)
  point P45 (-349.75, 20.1616)
  point P46 (-396.1, -20.1616)
  point P47 (-391.975, -26.5116)
  point P48 (-387.85, -20.1616)
  point P49 (-358, -20.1616)
  point P50 (-353.875, -26.5116)
  point P51 (-349.75, -20.1616)
  point P52 (-393.35, 20.1616)
  point P53 (-385.1, 20.1616)
  point P54 (-355.25, 20.1616)
  point P55 (-351.125, 26.5116)
  point P56 (-347, 20.1616)
  point P57 (-393.35, -20.1616)
  point P58 (-389.225, -26.5116)
  point P59 (-385.1, -20.1616)
  point P60 (-355.25, -20.1616)
  point P61 (-351.125, -26.5116)
  point P62 (-347, -20.1616)
  point P63 (-386.475, 26.5116)
  point P64 (-382.35, 20.1616)
  point P65 (-344.25, 20.1616)
  point P66 (-390.6, -20.1616)
  point P67 (-386.475, -26.5116)
  point P68 (-382.35, -20.1616)
  point P69 (-352.5, -20.1616)
  point P70 (-348.375, -26.5116)
  point P71 (-344.25, -20.1616)
  point P72 (-387.85, 20.1616)
  point P73 (-349.75, 20.1616)
  point P74 (-345.625, 26.5116)
  point P75 (-387.85, -20.1616)
  point P76 (-383.725, -26.5116)
  point P77 (-379.6, -20.1616)
  point P78 (-349.75, -20.1616)
  point P79 (-345.625, -26.5116)
  point P80 (-341.5, -20.1616)
  point P81 (-380.975, 26.5116)
  point P82 (-376.85, 20.1616)
  point P83 (-338.75, 20.1616)
  point P84 (-385.1, -20.1616)
  point P85 (-380.975, -26.5116)
  point P86 (-376.85, -20.1616)
  point P87 (-347, -20.1616)
  point P88 (-342.875, -26.5116)
  point P89 (-338.75, -20.1616)
  point P90 (-382.35, 20.1616)
  point P91 (-344.25, 20.1616)
  point P92 (-340.125, 26.5116)
  point P93 (-382.35, -20.1616)
  point P94 (-378.225, -26.5116)
  point P95 (-374.1, -20.1616)
  point P96 (-344.25, -20.1616)
  point P97 (-340.125, -26.5116)
  point P98 (-336, -20.1616)
  point P99 (-402.975, -26.5116)
  point P100 (-398.85, -20.1616)
  point P101 (-360.75, -20.1616)
  point P102 (-404.35, -20.1616)
  point P103 (-396.1, -20.1616)
  point P104 (-366.25, -20.1616)
  point P105 (-362.125, -26.5116)
  point P106 (-358, -20.1616)
  point P107 (-397.475, -26.5116)
  point P108 (-393.35, -20.1616)
  point P109 (-355.25, -20.1616)
  point P110 (-398.85, -20.1616)
  point P111 (-390.6, -20.1616)
  point P112 (-360.75, -20.1616)
  point P113 (-356.625, -26.5116)
  point P114 (-352.5, -20.1616)
  point P115 (-391.975, -26.5116)
  point P116 (-387.85, -20.1616)
  point P117 (-349.75, -20.1616)
  point P118 (-393.35, -20.1616)
  point P119 (-385.1, -20.1616)
  point P120 (-355.25, -20.1616)
  point P121 (-351.125, -26.5116)
  point P122 (-347, -20.1616)
  point P123 (-386.475, -26.5116)
  point P124 (-382.35, -20.1616)
  point P125 (-344.25, -20.1616)
  point P126 (-387.85, -20.1616)
  point P127 (-349.75, -20.1616)
  point P128 (-345.625, -26.5116)
  point P129 (-380.975, -26.5116)
  point P130 (-376.85, -20.1616)
  point P131 (-338.75, -20.1616)
  point P132 (-382.35, -20.1616)
  point P133 (-344.25, -20.1616)
  point P134 (-340.125, -26.5116)
  dimension "d20" = 2.75
  dimension "d25" = 4
  dimension "d26" = 4
  dimension "d27" = 4
  dimension "d28" = 4
  dimension "d29" = 4
  dimension "d30" = 4
  dimension "d31" = 4
  dimension "d32" = 4
  dimension "d33" = 4
  dimension "d34" = 4
  dimension "d35" = 4
  dimension "d36" = 4
  dimension "d37" = 4
  dimension "d38" = 4
  dimension "d39" = 4
  dimension "d40" = 4
  dimension "d41" = 4
  dimension "d42" = 4
  dimension "d43" = 4
  dimension "d44" = 4
  dimension "d45" = 4
  dimension "d46" = 4
  dimension "d47" = 4
  dimension "d48" = 4
extrude "Extrusion2" cut sketch "Sketch2" against normal through all
properties part number "WeightArm" material "MDF Medium Density Fiberboard"
